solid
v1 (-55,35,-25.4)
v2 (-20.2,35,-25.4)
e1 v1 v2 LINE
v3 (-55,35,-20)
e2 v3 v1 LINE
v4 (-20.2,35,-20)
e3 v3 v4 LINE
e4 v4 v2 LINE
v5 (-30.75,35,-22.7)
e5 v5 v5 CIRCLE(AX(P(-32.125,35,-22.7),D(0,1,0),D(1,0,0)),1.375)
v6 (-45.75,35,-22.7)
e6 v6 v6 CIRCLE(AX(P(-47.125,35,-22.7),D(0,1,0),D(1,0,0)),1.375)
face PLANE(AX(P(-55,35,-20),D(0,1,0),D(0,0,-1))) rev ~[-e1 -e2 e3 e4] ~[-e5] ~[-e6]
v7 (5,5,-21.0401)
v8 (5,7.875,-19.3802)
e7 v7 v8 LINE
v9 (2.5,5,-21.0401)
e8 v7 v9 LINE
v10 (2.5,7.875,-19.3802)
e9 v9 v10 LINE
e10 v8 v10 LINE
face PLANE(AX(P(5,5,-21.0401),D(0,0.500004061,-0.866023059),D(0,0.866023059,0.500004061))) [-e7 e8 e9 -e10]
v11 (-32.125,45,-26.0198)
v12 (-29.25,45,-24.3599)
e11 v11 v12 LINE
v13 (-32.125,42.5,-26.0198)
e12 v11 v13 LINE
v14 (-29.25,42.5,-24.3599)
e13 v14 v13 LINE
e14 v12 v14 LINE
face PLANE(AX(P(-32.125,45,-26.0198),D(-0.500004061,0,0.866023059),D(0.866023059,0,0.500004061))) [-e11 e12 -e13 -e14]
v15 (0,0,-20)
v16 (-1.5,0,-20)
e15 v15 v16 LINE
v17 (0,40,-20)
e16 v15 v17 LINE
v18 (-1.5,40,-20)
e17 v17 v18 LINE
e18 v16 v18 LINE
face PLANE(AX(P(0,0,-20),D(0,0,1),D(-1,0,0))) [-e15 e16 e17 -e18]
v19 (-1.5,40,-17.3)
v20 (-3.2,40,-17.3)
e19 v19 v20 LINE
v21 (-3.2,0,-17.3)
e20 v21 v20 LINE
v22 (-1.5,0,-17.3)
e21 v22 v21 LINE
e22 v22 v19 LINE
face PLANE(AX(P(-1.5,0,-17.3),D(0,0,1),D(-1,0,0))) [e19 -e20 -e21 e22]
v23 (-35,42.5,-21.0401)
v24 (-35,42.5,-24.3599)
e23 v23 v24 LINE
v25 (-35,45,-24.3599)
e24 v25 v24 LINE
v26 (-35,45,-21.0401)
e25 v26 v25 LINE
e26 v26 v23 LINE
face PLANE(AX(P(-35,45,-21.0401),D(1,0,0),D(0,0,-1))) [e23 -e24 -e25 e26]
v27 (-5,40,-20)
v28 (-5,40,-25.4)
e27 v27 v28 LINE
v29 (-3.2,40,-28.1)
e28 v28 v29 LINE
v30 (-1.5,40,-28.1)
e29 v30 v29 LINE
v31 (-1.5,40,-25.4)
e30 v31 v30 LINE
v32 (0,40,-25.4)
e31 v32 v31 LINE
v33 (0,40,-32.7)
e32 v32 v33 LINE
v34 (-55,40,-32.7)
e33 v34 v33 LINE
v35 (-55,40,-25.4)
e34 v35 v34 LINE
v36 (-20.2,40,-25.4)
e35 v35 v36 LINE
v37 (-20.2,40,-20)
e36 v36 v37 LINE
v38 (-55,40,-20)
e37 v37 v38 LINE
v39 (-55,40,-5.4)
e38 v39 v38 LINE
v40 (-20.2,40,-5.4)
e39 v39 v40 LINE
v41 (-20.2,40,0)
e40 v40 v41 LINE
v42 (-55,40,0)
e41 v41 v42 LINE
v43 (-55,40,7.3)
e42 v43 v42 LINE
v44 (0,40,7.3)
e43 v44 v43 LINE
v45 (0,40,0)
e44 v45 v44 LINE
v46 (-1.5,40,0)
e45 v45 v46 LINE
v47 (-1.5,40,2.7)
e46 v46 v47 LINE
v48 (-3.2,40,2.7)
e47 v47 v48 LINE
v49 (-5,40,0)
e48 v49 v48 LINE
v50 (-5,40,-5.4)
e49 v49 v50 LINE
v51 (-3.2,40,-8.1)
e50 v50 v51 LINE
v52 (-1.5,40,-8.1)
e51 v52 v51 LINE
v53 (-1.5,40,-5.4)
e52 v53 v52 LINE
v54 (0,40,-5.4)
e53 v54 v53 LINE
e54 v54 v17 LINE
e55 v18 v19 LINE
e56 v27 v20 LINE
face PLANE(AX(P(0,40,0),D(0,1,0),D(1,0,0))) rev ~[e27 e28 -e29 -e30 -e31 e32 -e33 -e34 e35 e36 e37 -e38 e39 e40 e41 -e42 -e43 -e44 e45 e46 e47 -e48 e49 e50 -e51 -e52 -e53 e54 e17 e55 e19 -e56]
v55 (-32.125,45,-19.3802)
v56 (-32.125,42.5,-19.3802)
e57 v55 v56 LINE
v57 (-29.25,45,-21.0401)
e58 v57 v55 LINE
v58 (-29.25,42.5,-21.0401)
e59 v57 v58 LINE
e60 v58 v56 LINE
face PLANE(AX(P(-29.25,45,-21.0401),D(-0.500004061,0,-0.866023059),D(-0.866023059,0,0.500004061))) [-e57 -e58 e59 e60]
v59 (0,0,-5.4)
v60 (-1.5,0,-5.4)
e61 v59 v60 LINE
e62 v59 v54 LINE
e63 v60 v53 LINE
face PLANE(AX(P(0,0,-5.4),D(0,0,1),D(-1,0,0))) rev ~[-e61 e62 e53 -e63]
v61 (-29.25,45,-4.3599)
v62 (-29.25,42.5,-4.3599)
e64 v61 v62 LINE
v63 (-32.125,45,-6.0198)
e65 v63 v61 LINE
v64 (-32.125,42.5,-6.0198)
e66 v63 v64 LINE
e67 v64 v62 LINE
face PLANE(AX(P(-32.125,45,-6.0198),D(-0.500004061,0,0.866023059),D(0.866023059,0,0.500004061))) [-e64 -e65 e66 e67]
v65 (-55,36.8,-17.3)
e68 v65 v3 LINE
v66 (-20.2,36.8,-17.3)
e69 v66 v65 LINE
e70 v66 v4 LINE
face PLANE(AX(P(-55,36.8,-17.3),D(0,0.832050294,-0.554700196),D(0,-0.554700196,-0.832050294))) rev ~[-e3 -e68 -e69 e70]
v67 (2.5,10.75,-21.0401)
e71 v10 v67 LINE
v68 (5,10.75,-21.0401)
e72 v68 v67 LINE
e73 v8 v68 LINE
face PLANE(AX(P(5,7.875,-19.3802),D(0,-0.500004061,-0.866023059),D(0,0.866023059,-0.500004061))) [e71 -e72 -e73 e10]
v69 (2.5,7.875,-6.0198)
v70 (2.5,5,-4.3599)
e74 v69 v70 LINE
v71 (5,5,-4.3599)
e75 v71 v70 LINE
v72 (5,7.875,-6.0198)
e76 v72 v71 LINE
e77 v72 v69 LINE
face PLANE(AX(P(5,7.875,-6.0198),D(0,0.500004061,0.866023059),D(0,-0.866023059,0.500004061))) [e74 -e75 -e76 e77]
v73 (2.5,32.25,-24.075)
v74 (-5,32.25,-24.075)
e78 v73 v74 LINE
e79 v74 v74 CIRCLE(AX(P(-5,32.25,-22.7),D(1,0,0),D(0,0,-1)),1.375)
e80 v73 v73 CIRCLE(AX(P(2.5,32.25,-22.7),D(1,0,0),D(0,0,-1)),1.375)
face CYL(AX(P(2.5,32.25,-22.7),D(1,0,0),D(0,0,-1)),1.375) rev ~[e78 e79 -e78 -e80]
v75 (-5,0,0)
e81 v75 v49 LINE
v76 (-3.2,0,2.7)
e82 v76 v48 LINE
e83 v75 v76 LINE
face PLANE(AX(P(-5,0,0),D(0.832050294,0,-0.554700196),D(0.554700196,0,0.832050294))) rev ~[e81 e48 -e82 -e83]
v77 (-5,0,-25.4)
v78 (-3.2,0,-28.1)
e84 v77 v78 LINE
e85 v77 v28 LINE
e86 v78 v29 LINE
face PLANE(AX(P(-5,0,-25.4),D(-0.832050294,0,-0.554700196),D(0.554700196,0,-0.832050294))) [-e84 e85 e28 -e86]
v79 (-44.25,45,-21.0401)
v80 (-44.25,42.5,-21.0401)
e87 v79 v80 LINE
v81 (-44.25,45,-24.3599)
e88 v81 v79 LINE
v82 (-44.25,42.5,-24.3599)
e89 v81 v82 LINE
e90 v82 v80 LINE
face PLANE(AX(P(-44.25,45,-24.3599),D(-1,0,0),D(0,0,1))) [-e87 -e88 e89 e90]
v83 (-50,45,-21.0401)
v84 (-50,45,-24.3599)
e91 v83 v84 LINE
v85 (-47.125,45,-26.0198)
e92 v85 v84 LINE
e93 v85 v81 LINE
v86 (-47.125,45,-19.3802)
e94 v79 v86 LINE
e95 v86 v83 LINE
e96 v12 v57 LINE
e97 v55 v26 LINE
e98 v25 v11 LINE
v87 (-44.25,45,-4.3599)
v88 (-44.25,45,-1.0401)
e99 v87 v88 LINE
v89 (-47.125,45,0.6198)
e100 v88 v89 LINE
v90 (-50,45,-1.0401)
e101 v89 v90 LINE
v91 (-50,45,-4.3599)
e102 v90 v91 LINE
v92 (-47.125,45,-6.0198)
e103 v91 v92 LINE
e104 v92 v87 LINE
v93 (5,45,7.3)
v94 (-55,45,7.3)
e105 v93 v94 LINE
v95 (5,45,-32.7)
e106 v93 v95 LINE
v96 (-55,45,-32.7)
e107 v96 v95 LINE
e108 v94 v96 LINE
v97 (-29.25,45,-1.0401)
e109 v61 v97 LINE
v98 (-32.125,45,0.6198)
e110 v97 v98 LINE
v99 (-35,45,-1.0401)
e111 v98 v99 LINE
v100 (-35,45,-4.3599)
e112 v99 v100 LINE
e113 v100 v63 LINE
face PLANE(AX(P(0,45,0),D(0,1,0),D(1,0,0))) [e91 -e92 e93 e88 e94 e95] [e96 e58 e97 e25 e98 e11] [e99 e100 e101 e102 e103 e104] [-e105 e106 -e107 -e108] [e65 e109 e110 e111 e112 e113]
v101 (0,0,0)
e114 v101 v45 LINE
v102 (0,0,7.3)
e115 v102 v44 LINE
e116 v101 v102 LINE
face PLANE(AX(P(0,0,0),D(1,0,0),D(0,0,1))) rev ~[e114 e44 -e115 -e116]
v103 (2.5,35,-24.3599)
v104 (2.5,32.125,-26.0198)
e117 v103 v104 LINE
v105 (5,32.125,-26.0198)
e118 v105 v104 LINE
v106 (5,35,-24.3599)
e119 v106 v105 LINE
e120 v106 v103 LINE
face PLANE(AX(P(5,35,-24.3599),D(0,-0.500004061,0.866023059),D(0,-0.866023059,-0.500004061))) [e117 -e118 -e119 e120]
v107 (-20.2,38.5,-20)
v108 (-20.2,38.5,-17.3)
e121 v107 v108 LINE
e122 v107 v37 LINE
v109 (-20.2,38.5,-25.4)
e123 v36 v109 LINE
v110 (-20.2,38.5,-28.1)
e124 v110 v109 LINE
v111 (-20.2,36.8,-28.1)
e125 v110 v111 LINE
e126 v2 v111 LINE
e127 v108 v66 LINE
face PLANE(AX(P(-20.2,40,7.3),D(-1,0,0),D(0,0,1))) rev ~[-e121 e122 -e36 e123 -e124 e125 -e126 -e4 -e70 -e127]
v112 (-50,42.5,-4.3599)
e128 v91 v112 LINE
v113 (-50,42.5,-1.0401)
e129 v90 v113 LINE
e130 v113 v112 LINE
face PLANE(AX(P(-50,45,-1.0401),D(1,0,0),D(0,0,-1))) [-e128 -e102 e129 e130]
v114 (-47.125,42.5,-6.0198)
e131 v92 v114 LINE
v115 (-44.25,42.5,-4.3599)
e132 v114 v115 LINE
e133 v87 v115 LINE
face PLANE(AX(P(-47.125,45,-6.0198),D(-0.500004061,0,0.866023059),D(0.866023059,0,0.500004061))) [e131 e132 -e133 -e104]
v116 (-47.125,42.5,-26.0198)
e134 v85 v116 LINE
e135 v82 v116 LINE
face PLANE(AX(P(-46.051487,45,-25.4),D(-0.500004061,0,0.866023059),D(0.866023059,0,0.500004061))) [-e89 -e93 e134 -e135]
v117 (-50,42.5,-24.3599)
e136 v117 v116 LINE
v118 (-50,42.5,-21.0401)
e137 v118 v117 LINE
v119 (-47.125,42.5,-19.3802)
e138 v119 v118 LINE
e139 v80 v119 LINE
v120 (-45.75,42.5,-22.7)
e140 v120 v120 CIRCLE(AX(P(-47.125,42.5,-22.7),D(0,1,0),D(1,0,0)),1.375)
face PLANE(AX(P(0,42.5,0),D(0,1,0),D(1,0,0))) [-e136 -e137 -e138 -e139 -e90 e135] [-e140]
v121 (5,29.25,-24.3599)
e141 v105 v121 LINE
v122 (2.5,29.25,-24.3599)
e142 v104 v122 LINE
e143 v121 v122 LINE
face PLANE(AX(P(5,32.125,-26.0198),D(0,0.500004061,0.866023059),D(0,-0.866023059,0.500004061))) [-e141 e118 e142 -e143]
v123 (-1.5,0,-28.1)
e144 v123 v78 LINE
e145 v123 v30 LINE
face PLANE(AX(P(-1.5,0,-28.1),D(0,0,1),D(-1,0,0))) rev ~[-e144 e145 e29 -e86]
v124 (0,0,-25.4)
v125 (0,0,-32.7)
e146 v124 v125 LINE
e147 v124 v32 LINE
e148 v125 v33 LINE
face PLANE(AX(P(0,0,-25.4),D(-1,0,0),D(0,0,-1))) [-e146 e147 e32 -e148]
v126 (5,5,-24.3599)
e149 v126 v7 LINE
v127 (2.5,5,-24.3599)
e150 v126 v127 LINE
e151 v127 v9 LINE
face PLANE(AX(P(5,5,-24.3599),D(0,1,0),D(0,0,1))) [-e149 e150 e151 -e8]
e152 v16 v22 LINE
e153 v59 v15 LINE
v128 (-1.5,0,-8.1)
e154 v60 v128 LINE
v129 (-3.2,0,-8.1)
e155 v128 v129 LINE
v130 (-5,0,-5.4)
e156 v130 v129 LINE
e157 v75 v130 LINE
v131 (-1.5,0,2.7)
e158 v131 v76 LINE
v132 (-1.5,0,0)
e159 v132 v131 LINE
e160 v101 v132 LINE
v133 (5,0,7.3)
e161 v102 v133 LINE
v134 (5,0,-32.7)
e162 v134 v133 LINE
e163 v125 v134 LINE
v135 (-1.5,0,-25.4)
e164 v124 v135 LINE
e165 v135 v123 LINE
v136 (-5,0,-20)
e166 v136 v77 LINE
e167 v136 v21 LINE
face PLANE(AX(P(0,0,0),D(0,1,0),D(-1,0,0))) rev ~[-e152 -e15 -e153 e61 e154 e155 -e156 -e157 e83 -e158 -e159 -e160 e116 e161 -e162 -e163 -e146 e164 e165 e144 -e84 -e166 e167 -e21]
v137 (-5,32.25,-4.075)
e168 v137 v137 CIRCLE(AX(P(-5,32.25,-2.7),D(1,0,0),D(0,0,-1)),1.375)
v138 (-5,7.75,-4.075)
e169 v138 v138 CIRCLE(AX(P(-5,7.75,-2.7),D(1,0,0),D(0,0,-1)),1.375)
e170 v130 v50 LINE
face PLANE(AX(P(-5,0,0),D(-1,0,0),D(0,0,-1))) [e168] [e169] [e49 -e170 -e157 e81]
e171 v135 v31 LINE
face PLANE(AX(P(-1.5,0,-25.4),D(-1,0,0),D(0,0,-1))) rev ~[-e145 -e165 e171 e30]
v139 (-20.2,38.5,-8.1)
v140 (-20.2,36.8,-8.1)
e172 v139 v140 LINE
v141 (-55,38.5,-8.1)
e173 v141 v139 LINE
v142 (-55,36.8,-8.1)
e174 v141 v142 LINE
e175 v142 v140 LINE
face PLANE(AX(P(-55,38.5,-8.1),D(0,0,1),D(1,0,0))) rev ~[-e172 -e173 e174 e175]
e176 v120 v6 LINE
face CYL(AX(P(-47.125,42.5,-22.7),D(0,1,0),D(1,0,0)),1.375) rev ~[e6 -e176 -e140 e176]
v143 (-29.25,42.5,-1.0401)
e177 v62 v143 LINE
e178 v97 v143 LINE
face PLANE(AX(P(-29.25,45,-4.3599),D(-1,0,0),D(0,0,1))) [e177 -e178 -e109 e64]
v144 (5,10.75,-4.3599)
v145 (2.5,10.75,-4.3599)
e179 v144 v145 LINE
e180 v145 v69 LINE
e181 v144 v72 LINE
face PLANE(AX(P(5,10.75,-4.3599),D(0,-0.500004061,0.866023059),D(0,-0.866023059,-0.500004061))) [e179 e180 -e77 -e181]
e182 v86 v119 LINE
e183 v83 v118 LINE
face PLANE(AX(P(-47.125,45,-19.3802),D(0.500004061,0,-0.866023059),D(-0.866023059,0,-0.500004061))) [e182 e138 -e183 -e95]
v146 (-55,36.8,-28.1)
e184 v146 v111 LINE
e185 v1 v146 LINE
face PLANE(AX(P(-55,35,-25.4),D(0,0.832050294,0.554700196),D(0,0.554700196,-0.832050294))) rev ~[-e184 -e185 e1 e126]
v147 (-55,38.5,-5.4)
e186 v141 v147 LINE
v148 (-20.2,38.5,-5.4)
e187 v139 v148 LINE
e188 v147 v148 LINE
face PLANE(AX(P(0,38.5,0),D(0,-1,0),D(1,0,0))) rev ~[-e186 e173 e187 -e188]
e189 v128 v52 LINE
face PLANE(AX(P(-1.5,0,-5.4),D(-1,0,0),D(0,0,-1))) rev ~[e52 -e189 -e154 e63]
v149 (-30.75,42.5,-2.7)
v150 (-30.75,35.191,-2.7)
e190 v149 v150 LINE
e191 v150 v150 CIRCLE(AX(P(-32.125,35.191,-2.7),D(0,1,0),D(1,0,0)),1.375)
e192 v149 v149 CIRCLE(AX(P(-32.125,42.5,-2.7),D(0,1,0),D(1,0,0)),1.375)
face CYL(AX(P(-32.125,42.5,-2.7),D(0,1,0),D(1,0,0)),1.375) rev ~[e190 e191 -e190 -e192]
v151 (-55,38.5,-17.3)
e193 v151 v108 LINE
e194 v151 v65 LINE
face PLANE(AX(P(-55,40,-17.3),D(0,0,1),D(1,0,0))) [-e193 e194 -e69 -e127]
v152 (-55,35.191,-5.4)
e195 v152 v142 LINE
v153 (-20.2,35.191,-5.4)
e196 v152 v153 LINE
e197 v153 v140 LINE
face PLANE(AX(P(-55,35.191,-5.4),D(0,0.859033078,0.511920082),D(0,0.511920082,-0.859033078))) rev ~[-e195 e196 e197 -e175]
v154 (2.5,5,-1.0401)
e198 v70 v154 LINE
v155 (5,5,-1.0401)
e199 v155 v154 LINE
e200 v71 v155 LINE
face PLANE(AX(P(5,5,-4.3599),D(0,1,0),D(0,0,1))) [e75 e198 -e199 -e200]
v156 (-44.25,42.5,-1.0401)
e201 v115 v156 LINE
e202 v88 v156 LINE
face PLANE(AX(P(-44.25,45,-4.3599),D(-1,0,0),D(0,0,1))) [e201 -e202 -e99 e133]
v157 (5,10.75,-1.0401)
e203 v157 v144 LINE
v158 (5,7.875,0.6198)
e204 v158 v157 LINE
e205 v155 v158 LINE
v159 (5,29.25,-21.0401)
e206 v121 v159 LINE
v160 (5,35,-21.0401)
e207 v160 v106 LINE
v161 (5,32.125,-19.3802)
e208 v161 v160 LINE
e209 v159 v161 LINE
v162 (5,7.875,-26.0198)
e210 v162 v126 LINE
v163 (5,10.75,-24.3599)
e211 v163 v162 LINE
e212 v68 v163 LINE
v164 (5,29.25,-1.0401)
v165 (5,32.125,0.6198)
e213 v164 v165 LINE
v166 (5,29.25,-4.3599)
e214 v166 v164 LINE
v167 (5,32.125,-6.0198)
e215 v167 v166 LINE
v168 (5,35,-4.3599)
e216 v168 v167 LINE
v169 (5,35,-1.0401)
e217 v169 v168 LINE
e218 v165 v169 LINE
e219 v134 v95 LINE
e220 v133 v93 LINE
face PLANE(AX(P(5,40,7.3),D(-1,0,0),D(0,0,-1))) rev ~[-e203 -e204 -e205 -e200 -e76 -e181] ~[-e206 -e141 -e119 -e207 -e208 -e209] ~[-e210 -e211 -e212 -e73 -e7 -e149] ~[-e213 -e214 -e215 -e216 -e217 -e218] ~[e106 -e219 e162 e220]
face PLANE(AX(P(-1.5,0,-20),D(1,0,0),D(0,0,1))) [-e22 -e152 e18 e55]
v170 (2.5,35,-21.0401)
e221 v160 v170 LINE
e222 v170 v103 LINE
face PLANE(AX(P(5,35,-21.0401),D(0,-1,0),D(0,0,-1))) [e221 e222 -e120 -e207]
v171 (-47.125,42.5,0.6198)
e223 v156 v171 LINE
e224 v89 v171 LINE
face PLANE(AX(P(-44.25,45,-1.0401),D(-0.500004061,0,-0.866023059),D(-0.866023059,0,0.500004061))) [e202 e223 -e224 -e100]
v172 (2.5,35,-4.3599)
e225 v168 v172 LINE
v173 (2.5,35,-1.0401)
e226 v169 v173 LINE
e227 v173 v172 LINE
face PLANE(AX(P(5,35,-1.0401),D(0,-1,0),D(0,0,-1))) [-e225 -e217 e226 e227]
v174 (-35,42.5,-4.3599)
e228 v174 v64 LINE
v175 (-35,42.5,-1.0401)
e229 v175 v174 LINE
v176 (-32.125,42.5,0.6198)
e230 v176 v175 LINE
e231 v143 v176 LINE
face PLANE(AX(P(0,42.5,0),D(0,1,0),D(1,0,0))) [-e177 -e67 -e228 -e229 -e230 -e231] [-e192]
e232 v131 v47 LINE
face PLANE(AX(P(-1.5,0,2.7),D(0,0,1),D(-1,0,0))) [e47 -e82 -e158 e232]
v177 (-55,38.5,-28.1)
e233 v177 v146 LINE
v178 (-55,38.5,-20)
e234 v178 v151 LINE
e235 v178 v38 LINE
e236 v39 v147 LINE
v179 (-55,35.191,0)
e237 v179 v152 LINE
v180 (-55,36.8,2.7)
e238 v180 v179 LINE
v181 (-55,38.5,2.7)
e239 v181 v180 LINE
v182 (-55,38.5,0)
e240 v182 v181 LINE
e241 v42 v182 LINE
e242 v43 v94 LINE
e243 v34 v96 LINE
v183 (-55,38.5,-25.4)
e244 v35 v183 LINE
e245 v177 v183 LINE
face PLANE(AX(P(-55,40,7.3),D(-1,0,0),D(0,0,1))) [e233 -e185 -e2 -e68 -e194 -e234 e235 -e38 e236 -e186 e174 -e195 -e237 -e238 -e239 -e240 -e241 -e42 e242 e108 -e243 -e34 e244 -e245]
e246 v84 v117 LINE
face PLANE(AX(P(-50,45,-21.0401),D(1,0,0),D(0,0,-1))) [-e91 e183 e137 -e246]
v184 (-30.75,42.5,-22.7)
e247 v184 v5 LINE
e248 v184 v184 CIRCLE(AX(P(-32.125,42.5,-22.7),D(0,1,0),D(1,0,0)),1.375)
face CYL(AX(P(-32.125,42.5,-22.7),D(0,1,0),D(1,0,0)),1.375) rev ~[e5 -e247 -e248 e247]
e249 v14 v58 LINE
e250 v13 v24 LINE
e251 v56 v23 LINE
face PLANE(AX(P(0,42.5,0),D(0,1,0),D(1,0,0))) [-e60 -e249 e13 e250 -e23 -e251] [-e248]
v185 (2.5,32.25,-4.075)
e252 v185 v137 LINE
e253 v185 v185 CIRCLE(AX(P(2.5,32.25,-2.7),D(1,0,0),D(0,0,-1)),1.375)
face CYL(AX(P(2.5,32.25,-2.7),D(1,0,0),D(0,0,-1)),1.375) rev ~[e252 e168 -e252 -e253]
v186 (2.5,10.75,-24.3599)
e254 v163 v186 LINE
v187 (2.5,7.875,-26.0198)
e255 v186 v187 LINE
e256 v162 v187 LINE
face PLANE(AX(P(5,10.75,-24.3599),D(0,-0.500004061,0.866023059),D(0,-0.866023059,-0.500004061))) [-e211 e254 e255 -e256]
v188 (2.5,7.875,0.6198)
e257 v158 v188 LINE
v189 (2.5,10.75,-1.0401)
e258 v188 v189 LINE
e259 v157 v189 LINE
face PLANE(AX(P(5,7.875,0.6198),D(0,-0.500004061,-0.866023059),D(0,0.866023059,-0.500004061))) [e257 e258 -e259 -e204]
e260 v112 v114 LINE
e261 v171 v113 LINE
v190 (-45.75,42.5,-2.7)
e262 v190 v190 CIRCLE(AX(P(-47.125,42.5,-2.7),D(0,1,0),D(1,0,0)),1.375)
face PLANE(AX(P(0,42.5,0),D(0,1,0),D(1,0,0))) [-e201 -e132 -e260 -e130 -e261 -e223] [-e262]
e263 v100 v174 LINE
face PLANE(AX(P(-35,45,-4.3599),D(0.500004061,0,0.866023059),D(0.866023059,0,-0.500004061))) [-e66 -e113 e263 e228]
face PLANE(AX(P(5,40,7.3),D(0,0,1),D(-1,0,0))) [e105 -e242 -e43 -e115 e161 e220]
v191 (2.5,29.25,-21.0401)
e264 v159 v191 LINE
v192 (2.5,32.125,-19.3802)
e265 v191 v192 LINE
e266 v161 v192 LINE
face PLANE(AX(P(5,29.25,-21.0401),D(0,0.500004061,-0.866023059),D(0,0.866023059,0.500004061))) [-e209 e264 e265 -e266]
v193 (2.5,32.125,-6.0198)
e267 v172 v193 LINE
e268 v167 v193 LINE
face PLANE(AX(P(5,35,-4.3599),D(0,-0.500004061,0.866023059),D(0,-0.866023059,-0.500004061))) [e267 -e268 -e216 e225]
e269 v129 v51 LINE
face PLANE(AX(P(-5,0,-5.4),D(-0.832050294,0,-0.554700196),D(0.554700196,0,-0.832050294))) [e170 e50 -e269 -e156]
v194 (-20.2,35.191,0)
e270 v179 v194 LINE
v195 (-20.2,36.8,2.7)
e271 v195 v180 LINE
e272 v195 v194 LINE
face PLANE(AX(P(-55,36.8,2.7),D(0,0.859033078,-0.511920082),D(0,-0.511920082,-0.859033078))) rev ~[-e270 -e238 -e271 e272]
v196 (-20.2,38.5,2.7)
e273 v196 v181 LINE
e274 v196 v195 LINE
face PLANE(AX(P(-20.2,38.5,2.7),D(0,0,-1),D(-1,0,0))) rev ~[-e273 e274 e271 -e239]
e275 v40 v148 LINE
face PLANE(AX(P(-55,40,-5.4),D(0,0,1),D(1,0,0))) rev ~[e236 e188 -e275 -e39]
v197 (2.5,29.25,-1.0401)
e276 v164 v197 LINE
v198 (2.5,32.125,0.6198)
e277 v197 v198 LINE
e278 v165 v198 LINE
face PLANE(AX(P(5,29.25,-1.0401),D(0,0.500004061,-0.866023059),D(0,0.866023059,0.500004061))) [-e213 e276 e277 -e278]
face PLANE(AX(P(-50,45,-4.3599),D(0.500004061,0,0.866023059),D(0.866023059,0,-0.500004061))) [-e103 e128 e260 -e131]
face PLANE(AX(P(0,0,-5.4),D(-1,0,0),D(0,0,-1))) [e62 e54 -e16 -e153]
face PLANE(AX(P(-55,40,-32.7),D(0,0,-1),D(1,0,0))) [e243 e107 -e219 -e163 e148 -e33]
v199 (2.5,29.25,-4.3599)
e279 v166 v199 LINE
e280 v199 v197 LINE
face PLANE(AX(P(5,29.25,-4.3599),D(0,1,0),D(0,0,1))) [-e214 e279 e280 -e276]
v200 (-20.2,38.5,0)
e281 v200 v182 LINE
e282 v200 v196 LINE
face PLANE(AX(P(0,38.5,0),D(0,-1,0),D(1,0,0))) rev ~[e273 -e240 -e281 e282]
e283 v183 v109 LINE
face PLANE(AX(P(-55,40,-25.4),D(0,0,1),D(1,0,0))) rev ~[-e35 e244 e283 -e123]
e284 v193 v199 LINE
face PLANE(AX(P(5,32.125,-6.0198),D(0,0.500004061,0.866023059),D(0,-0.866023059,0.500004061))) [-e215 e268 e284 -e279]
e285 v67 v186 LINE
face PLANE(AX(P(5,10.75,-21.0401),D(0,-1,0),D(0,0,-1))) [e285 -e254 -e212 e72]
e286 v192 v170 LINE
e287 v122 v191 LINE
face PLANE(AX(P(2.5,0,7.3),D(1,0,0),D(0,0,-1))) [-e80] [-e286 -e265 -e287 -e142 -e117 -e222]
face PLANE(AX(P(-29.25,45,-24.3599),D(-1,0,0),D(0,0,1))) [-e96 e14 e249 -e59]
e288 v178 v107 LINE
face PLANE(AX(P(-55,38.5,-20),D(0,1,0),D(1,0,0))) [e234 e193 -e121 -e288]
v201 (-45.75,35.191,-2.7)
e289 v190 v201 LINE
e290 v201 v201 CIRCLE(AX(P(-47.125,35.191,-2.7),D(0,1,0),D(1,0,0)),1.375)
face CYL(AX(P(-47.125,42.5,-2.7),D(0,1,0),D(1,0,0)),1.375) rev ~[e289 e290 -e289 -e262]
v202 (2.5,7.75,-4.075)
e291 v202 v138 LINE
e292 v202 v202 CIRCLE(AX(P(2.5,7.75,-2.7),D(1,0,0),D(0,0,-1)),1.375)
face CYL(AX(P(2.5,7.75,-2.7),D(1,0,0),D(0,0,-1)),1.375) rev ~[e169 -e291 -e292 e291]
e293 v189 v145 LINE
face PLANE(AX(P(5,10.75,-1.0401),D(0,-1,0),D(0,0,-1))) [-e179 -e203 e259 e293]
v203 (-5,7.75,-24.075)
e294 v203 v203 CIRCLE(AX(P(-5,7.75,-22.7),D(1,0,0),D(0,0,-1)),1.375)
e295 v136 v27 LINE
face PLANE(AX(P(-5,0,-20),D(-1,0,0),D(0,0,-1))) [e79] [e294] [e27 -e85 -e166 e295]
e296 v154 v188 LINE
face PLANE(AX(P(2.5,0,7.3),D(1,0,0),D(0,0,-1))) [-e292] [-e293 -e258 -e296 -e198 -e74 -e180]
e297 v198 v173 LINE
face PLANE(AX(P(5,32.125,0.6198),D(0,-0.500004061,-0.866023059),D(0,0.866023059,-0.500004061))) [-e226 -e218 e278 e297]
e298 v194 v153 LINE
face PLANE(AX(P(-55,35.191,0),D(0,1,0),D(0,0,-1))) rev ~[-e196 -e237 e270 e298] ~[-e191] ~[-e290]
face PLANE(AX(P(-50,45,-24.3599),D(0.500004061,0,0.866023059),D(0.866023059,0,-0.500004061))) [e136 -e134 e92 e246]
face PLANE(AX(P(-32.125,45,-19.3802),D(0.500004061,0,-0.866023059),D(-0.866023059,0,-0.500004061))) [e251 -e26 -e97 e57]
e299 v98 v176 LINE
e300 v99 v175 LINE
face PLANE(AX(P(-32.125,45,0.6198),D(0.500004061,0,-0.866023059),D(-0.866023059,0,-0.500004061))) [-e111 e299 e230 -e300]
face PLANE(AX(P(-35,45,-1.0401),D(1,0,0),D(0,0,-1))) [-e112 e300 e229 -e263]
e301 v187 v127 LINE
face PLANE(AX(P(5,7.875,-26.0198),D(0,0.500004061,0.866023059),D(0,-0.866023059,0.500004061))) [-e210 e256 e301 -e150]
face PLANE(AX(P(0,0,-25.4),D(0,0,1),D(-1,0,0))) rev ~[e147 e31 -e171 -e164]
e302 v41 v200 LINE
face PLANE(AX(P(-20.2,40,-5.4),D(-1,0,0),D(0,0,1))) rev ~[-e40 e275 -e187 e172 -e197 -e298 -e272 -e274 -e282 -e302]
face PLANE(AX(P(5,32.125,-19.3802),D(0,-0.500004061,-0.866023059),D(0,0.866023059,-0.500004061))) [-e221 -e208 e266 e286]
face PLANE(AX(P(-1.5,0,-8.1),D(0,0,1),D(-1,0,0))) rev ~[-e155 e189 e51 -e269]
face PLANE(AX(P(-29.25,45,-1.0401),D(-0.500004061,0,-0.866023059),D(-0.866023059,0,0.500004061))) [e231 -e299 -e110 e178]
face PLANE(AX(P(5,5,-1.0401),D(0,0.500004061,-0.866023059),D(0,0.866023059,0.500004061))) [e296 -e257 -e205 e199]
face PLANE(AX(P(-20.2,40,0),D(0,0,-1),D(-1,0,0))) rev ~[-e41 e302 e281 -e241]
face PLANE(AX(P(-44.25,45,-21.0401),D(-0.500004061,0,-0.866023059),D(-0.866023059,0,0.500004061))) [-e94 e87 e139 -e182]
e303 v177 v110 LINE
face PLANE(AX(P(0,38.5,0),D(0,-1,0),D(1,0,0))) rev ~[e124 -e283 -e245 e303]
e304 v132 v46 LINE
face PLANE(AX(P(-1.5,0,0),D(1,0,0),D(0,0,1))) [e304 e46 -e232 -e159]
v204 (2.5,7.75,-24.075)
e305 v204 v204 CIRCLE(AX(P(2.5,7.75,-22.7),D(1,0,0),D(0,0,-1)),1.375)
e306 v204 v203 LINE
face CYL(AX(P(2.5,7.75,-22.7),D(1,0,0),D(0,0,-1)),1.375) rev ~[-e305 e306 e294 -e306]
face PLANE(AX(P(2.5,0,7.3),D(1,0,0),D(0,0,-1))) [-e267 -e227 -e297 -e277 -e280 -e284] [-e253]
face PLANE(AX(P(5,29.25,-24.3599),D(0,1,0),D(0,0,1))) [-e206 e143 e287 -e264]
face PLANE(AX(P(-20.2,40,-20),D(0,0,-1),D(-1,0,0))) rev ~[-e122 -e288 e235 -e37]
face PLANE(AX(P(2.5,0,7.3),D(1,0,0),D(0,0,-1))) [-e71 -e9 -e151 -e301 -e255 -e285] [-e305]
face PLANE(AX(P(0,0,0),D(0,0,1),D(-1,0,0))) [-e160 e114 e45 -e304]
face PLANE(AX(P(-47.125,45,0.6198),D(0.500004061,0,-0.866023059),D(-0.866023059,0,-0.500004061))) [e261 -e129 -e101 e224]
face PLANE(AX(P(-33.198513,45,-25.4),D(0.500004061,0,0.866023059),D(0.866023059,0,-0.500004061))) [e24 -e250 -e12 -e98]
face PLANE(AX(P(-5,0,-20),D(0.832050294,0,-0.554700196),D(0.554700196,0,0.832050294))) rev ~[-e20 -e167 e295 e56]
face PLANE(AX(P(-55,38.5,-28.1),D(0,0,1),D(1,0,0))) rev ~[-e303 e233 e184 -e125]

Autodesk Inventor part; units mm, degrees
ref_plane "YZ Plane" through (0, 0, 0) normal (1, 0, 0) x (0, 1, 0)
ref_plane "XZ Plane" through (0, 0, 0) normal (0, 1, 0) x (-1, 0, 0)
ref_plane "XY Plane" through (0, 0, 0) normal (0, 0, 1) x (1, 0, 0)
sketch "Sketch1" plane through (0, 0, 0) normal (0, 1, 0) x (-1, 0, 0)
  line L0 (0, -5.4) -> (1.5, -5.4)
  line L1 (1.5, -5.4) -> (1.5, -8.1)
  line L2 (1.5, -8.1) -> (3.2, -8.1)
  line L3 (0, 0) -> (1.5, 0)
  line L4 (1.5, 0) -> (1.5, 2.7)
  line L5 (1.5, 2.7) -> (3.2, 2.7)
  line L6 (5, 0) -> (5, -5.4)
  line L7 (5, -5.4) -> (3.2, -8.1)
  line L8 (5, 0) -> (3.2, 2.7)
  line L9 (0, -20) -> (1.5, -20)
  line L10 (1.5, -20) -> (1.5, -17.3)
  line L11 (1.5, -17.3) -> (3.2, -17.3)
  line L12 (0, -25.4) -> (1.5, -25.4)
  line L13 (1.5, -25.4) -> (1.5, -28.1)
  line L14 (1.5, -28.1) -> (3.2, -28.1)
  line L15 (5, -20) -> (5, -25.4)
  line L16 (5, -25.4) -> (3.2, -28.1)
  line L17 (5, -20) -> (3.2, -17.3)
  line L18 (0, -5.4) -> (0, -20)
  line L19 (0, 0) -> (0, 7.3)
  line L20 (0, 7.3) -> (-5, 7.3)
  line L21 (0, -25.4) -> (0, -32.7)
  line L22 (0, -32.7) -> (-5, -32.7)
  line L23 (-5, -32.7) -> (-5, 7.3)
  dimension "d0" = 5.4
  dimension "d1" = 1.5
  dimension "d2" = 2.7
  dimension "d3" = 1.7
  dimension "d4" = 2.7
  dimension "d5" = 1.7
  dimension "d9" = 2.7
  dimension "d10" = 2.7
  dimension "d11" = 5.4
  dimension "d12" = 7.3
  dimension "d13" = 5
  dimension "d14" = 7.3
  dimension "d15" = 5
  dimension "d16" = 20
extrude "Extrusion1" add sketch "Sketch1" along normal blind 40
sketch "Sketch2" plane through (5, 0, 7.3) normal (1, 0, 0) x (0, 0, -1)
  line L0 (11.6599, 5) -> (8.3401, 5)
  line L1 (8.3401, 5) -> (6.6802, 7.875)
  line L2 (6.6802, 7.875) -> (8.3401, 10.75)
  line L3 (8.3401, 10.75) -> (11.6599, 10.75)
  line L4 (11.6599, 10.75) -> (13.3198, 7.875)
  line L5 (13.3198, 7.875) -> (11.6599, 5)
  line L6 (40, 0) -> (0, 0) projected
  line L7 (0, 0) -> (0, 40) projected
  line L8 (31.6599, 5) -> (28.3401, 5)
  line L9 (28.3401, 5) -> (26.6802, 7.875)
  line L10 (26.6802, 7.875) -> (28.3401, 10.75)
  line L11 (28.3401, 10.75) -> (31.6599, 10.75)
  line L12 (31.6599, 10.75) -> (33.3198, 7.875)
  line L13 (33.3198, 7.875) -> (31.6599, 5)
  line L14 (40, 0) -> (40, 40) projected
  line L15 (11.6599, 29.25) -> (8.3401, 29.25)
  line L16 (8.3401, 29.25) -> (6.6802, 32.125)
  line L17 (6.6802, 32.125) -> (8.3401, 35)
  line L18 (8.3401, 35) -> (11.6599, 35)
  line L19 (11.6599, 35) -> (13.3198, 32.125)
  line L20 (13.3198, 32.125) -> (11.6599, 29.25)
  line L21 (31.6599, 29.25) -> (28.3401, 29.25)
  line L22 (28.3401, 29.25) -> (26.6802, 32.125)
  line L23 (26.6802, 32.125) -> (28.3401, 35)
  line L24 (28.3401, 35) -> (31.6599, 35)
  line L25 (31.6599, 35) -> (33.3198, 32.125)
  line L26 (33.3198, 32.125) -> (31.6599, 29.25)
  line L27 (0, 40) -> (40, 40) projected
  point P0 (7.3, 0)
  point P1 (10, 7.875)
  point P2 (30, 7.875)
  point P3 (10, 32.125)
  point P4 (30, 32.125)
  dimension "d17" = 5.75
  dimension "d18" = 5
  dimension "d19" = 10
  dimension "d20" = 5.75
  dimension "d21" = 5
  dimension "d22" = 10
  dimension "d23" = 5.75
  dimension "d24" = 5.75
  dimension "d25" = 5
  dimension "d26" = 5
  dimension "d27" = 10
  dimension "d28" = 10
extrude "Extrusion2" cut sketch "Sketch2" against normal blind 2.5 contours L0 L1 L2 L3 L4 L5 | L8 L9 L10 L11 L12 L13 | L15 L16 L17 L18 L19 L20 | L21 L22 L23 L24 L25 L26
sketch "Sketch3" plane through (2.5, 0, 7.3) normal (1, 0, 0) x (0, 0, -1)
  circle A0 centre (30, 7.75) radius 1.375
  circle A1 centre (10, 7.75) radius 1.375
  circle A2 centre (10, 32.25) radius 1.375
  circle A3 centre (30, 32.25) radius 1.375
  point P0 (7.3, 0)
  dimension "d31" = 2.75
  dimension "d32" = 2.75
  dimension "d33" = 2.75
extrude "Extrusion3" cut sketch "Sketch3" against normal blind 20
sketch "Sketch4" plane through (0, 40, 0) normal (0, 1, 0) x (1, 0, 0)
  line L0 (5, -7.3) -> (5, 32.7) projected
  line L1 (5, -7.3) -> (-55, -7.3)
  line L2 (-55, -7.3) -> (-55, 32.7)
  line L3 (-55, 32.7) -> (5, 32.7)
  line L4 (5, 32.7) -> (5, -7.3)
  point P0 (0, 0)
  dimension "d36" = 60
extrude "Extrusion4" add sketch "Sketch4" along normal blind 5
sketch "Sketch5" plane through (0, 40, 0) normal (0, -1, 0) x (1, 0, 0)
  line L0 (-55, -32.7) -> (-55, 7.3) projected
  line L1 (-20.2, 0) -> (-55, 0)
  line L2 (-55, 0) -> (-55, -5.4)
  line L3 (-55, -5.4) -> (-20.2, -5.4)
  line L4 (-20.2, -5.4) -> (-20.2, 0)
  line L5 (0, -5.4) -> (0, -20) projected
  line L6 (-20.2, -20) -> (-55, -20)
  line L7 (-55, -20) -> (-55, -25.4)
  line L8 (-55, -25.4) -> (-20.2, -25.4)
  line L9 (-20.2, -25.4) -> (-20.2, -20)
  point P0 (0, 0)
  dimension "d39" = 5.4
  dimension "d40" = 20.2
  dimension "d41" = 5.4
extrude "Extrusion5" add sketch "Sketch5" along normal blind 1.5
sketch "Sketch6" plane through (-55, 40, 7.3) normal (-1, 0, 0) x (0, 0, 1)
  point P0 (-7.3, -40)
sketch "Sketch7" plane through (-55, 40, 7.3) normal (-1, 0, 0) x (0, 0, 1)
  point P0 (-7.3, -40)
sketch "Sketch8" plane through (0, 38.5, 0) normal (0, -1, 0) x (1, 0, 0)
  line L0 (-55, -32.7) -> (-55, 7.3) projected
  line L1 (-20.2, 2.7) -> (-55, 2.7)
  line L2 (-55, 2.7) -> (-55, -8.1)
  line L3 (-55, -8.1) -> (-20.2, -8.1)
  line L4 (-20.2, -8.1) -> (-20.2, 2.7)
  line L5 (-20.2, -17.3) -> (-55, -17.3)
  line L6 (-55, -17.3) -> (-55, -28.1)
  line L7 (-55, -28.1) -> (-20.2, -28.1)
  line L8 (-20.2, -28.1) -> (-20.2, -17.3)
  line L9 (-20.2, -20) -> (-55, -20) projected
  point P0 (0, 0)
  dimension "d44" = 10.8
  dimension "d45" = 10.8
  dimension "d46" = 2.7
extrude "Extrusion6" add sketch "Sketch8" along normal blind 1.7 contours L0 L1 L4 L3 | L0 L9 L8 L7
sketch "Sketch9" plane through (-55, 40, 7.3) normal (-1, 0, 0) x (0, 0, 1)
  line L0 (-7.3, -4.809) -> (-12.7, -4.809)
  line L1 (-12.7, -40) -> (-12.7, 0) projected
  line L2 (-4.6, -3.2) -> (-15.4, -3.2) projected
  line L3 (-12.7, -4.809) -> (-15.4, -3.2)
  line L4 (-15.4, -3.2) -> (-4.6, -3.2)
  line L5 (-4.6, -3.2) -> (-7.3, -4.809)
  point P0 (-7.3, -40)
  dimension "d49" = 5.4
extrude "Extrusion7" add sketch "Sketch9" against normal blind 34.8
sketch "Sketch10" plane through (-55, 40, -20) normal (0, 0, 1) x (1, 0, 0)
  line L0 (34.8, -3.2) -> (0, -3.2) projected
  line L1 (0, 0) -> (0, -3.2) projected
  line L2 (34.8, -3.2) -> (0, -3.2)
  line L3 (0, -3.2) -> (0, -1.5)
  line L4 (0, -1.5) -> (34.8, -1.5)
  line L5 (34.8, -1.5) -> (34.8, -3.2)
  point P0 (55, -40)
  dimension "d52" = 1.7
extrude "Extrusion8" add sketch "Sketch10" along normal blind 2.7
sketch "Sketch11" plane through (-55, 40, 7.3) normal (-1, 0, 0) x (0, 0, 1)
  line L0 (-24.6, -3.2) -> (-24.6, -1.5) projected
  line L1 (-35.4, -3.2) -> (-24.6, -3.2) projected
  line L2 (-24.6, -3.2) -> (-35.4, -3.2)
  line L3 (-27.3, -5) -> (-32.7, -5)
  line L4 (-32.7, -5) -> (-35.4, -3.2)
  line L5 (-24.6, -3.2) -> (-27.3, -5)
  line L6 (-27.3, 0) -> (-32.7, 0) projected
  point P0 (-7.3, -40)
  dimension "d55" = 5.4
  dimension "d56" = 5
extrude "Extrusion9" add sketch "Sketch11" against normal blind 34.8
sketch "Sketch12" plane through (0, 45, 0) normal (0, 1, 0) x (1, 0, 0)
  line L0 (-44.25, 4.3599) -> (-44.25, 1.0401)
  line L1 (-44.25, 1.0401) -> (-47.125, -0.6198)
  line L2 (-47.125, -0.6198) -> (-50, 1.0401)
  line L3 (-50, 1.0401) -> (-50, 4.3599)
  line L4 (-50, 4.3599) -> (-47.125, 6.0198)
  line L5 (-47.125, 6.0198) -> (-44.25, 4.3599)
  line L6 (-44.25, 24.3599) -> (-44.25, 21.0401)
  line L7 (-44.25, 21.0401) -> (-47.125, 19.3802)
  line L8 (-47.125, 19.3802) -> (-50, 21.0401)
  line L9 (-50, 21.0401) -> (-50, 24.3599)
  line L10 (-50, 24.3599) -> (-47.125, 26.0198)
  line L11 (-47.125, 26.0198) -> (-44.25, 24.3599)
  line L12 (-55, 25.4) -> (-20.2, 25.4) projected
  line L13 (-29.25, 4.3599) -> (-29.25, 1.0401)
  line L14 (-29.25, 1.0401) -> (-32.125, -0.6198)
  line L15 (-32.125, -0.6198) -> (-35, 1.0401)
  line L16 (-35, 1.0401) -> (-35, 4.3599)
  line L17 (-35, 4.3599) -> (-32.125, 6.0198)
  line L18 (-32.125, 6.0198) -> (-29.25, 4.3599)
  line L19 (-55, 32.7) -> (-55, -7.3) projected
  line L20 (5, 32.7) -> (-55, 32.7) projected
  line L21 (-55, -7.3) -> (5, -7.3) projected
  line L22 (-29.25, 24.3599) -> (-29.25, 21.0401)
  line L23 (-29.25, 21.0401) -> (-32.125, 19.3802)
  line L24 (-32.125, 19.3802) -> (-35, 21.0401)
  line L25 (-35, 21.0401) -> (-35, 24.3599)
  line L26 (-35, 24.3599) -> (-32.125, 26.0198)
  line L27 (-32.125, 26.0198) -> (-29.25, 24.3599)
  point P0 (0, 0)
  point P1 (-47.125, 2.7)
  point P2 (-47.125, 22.7)
  point P3 (-32.125, 2.7)
  point P4 (-32.125, 22.7)
  dimension "d59" = 5.75
  dimension "d60" = 5.75
  dimension "d61" = 5.75
  dimension "d62" = 5
  dimension "d63" = 5
  dimension "d64" = 20
  dimension "d67" = 10
  dimension "d69" = 10
  dimension "d70" = 10
extrude "Extrusion10" cut sketch "Sketch12" against normal blind 2.5
sketch "Sketch13" plane through (0, 42.5, 0) normal (0, 1, 0) x (1, 0, 0)
  circle A0 centre (-47.125, 2.7) radius 1.375
  circle A1 centre (-32.125, 2.7) radius 1.375
  circle A2 centre (-47.125, 22.7) radius 1.375
  circle A3 centre (-32.125, 22.7) radius 1.375
  line L0 (-44.25, 4.3599) -> (-44.25, 1.0401) projected
  line L1 (-29.25, 4.3599) -> (-29.25, 1.0401) projected
  line L2 (-29.25, 24.3599) -> (-29.25, 21.0401) projected
  line L3 (-35, 24.3599) -> (-32.125, 26.0198) projected
  line L4 (-35, 4.3599) -> (-32.125, 6.0198) projected
  line L5 (-50, 4.3599) -> (-47.125, 6.0198) projected
  line L6 (-44.25, 24.3599) -> (-44.25, 21.0401) projected
  line L7 (-50, 24.3599) -> (-47.125, 26.0198) projected
  point P0 (0, 0)
  dimension "d73" = 2.75
  dimension "d74" = 2.75
  dimension "d75" = 2.75
  dimension "d76" = 2.75
  dimension "d77" = 2.875
  dimension "d78" = 2.875
  dimension "d79" = 2.875
  dimension "d80" = 2.875
  dimension "d81" = 2.875
  dimension "d82" = 2.875
  dimension "d83" = 2.875
  dimension "d84" = 2.875
extrude "Extrusion11" cut sketch "Sketch13" against normal blind 20
properties part number "slotmountingPlate_dualcorner_m3"
